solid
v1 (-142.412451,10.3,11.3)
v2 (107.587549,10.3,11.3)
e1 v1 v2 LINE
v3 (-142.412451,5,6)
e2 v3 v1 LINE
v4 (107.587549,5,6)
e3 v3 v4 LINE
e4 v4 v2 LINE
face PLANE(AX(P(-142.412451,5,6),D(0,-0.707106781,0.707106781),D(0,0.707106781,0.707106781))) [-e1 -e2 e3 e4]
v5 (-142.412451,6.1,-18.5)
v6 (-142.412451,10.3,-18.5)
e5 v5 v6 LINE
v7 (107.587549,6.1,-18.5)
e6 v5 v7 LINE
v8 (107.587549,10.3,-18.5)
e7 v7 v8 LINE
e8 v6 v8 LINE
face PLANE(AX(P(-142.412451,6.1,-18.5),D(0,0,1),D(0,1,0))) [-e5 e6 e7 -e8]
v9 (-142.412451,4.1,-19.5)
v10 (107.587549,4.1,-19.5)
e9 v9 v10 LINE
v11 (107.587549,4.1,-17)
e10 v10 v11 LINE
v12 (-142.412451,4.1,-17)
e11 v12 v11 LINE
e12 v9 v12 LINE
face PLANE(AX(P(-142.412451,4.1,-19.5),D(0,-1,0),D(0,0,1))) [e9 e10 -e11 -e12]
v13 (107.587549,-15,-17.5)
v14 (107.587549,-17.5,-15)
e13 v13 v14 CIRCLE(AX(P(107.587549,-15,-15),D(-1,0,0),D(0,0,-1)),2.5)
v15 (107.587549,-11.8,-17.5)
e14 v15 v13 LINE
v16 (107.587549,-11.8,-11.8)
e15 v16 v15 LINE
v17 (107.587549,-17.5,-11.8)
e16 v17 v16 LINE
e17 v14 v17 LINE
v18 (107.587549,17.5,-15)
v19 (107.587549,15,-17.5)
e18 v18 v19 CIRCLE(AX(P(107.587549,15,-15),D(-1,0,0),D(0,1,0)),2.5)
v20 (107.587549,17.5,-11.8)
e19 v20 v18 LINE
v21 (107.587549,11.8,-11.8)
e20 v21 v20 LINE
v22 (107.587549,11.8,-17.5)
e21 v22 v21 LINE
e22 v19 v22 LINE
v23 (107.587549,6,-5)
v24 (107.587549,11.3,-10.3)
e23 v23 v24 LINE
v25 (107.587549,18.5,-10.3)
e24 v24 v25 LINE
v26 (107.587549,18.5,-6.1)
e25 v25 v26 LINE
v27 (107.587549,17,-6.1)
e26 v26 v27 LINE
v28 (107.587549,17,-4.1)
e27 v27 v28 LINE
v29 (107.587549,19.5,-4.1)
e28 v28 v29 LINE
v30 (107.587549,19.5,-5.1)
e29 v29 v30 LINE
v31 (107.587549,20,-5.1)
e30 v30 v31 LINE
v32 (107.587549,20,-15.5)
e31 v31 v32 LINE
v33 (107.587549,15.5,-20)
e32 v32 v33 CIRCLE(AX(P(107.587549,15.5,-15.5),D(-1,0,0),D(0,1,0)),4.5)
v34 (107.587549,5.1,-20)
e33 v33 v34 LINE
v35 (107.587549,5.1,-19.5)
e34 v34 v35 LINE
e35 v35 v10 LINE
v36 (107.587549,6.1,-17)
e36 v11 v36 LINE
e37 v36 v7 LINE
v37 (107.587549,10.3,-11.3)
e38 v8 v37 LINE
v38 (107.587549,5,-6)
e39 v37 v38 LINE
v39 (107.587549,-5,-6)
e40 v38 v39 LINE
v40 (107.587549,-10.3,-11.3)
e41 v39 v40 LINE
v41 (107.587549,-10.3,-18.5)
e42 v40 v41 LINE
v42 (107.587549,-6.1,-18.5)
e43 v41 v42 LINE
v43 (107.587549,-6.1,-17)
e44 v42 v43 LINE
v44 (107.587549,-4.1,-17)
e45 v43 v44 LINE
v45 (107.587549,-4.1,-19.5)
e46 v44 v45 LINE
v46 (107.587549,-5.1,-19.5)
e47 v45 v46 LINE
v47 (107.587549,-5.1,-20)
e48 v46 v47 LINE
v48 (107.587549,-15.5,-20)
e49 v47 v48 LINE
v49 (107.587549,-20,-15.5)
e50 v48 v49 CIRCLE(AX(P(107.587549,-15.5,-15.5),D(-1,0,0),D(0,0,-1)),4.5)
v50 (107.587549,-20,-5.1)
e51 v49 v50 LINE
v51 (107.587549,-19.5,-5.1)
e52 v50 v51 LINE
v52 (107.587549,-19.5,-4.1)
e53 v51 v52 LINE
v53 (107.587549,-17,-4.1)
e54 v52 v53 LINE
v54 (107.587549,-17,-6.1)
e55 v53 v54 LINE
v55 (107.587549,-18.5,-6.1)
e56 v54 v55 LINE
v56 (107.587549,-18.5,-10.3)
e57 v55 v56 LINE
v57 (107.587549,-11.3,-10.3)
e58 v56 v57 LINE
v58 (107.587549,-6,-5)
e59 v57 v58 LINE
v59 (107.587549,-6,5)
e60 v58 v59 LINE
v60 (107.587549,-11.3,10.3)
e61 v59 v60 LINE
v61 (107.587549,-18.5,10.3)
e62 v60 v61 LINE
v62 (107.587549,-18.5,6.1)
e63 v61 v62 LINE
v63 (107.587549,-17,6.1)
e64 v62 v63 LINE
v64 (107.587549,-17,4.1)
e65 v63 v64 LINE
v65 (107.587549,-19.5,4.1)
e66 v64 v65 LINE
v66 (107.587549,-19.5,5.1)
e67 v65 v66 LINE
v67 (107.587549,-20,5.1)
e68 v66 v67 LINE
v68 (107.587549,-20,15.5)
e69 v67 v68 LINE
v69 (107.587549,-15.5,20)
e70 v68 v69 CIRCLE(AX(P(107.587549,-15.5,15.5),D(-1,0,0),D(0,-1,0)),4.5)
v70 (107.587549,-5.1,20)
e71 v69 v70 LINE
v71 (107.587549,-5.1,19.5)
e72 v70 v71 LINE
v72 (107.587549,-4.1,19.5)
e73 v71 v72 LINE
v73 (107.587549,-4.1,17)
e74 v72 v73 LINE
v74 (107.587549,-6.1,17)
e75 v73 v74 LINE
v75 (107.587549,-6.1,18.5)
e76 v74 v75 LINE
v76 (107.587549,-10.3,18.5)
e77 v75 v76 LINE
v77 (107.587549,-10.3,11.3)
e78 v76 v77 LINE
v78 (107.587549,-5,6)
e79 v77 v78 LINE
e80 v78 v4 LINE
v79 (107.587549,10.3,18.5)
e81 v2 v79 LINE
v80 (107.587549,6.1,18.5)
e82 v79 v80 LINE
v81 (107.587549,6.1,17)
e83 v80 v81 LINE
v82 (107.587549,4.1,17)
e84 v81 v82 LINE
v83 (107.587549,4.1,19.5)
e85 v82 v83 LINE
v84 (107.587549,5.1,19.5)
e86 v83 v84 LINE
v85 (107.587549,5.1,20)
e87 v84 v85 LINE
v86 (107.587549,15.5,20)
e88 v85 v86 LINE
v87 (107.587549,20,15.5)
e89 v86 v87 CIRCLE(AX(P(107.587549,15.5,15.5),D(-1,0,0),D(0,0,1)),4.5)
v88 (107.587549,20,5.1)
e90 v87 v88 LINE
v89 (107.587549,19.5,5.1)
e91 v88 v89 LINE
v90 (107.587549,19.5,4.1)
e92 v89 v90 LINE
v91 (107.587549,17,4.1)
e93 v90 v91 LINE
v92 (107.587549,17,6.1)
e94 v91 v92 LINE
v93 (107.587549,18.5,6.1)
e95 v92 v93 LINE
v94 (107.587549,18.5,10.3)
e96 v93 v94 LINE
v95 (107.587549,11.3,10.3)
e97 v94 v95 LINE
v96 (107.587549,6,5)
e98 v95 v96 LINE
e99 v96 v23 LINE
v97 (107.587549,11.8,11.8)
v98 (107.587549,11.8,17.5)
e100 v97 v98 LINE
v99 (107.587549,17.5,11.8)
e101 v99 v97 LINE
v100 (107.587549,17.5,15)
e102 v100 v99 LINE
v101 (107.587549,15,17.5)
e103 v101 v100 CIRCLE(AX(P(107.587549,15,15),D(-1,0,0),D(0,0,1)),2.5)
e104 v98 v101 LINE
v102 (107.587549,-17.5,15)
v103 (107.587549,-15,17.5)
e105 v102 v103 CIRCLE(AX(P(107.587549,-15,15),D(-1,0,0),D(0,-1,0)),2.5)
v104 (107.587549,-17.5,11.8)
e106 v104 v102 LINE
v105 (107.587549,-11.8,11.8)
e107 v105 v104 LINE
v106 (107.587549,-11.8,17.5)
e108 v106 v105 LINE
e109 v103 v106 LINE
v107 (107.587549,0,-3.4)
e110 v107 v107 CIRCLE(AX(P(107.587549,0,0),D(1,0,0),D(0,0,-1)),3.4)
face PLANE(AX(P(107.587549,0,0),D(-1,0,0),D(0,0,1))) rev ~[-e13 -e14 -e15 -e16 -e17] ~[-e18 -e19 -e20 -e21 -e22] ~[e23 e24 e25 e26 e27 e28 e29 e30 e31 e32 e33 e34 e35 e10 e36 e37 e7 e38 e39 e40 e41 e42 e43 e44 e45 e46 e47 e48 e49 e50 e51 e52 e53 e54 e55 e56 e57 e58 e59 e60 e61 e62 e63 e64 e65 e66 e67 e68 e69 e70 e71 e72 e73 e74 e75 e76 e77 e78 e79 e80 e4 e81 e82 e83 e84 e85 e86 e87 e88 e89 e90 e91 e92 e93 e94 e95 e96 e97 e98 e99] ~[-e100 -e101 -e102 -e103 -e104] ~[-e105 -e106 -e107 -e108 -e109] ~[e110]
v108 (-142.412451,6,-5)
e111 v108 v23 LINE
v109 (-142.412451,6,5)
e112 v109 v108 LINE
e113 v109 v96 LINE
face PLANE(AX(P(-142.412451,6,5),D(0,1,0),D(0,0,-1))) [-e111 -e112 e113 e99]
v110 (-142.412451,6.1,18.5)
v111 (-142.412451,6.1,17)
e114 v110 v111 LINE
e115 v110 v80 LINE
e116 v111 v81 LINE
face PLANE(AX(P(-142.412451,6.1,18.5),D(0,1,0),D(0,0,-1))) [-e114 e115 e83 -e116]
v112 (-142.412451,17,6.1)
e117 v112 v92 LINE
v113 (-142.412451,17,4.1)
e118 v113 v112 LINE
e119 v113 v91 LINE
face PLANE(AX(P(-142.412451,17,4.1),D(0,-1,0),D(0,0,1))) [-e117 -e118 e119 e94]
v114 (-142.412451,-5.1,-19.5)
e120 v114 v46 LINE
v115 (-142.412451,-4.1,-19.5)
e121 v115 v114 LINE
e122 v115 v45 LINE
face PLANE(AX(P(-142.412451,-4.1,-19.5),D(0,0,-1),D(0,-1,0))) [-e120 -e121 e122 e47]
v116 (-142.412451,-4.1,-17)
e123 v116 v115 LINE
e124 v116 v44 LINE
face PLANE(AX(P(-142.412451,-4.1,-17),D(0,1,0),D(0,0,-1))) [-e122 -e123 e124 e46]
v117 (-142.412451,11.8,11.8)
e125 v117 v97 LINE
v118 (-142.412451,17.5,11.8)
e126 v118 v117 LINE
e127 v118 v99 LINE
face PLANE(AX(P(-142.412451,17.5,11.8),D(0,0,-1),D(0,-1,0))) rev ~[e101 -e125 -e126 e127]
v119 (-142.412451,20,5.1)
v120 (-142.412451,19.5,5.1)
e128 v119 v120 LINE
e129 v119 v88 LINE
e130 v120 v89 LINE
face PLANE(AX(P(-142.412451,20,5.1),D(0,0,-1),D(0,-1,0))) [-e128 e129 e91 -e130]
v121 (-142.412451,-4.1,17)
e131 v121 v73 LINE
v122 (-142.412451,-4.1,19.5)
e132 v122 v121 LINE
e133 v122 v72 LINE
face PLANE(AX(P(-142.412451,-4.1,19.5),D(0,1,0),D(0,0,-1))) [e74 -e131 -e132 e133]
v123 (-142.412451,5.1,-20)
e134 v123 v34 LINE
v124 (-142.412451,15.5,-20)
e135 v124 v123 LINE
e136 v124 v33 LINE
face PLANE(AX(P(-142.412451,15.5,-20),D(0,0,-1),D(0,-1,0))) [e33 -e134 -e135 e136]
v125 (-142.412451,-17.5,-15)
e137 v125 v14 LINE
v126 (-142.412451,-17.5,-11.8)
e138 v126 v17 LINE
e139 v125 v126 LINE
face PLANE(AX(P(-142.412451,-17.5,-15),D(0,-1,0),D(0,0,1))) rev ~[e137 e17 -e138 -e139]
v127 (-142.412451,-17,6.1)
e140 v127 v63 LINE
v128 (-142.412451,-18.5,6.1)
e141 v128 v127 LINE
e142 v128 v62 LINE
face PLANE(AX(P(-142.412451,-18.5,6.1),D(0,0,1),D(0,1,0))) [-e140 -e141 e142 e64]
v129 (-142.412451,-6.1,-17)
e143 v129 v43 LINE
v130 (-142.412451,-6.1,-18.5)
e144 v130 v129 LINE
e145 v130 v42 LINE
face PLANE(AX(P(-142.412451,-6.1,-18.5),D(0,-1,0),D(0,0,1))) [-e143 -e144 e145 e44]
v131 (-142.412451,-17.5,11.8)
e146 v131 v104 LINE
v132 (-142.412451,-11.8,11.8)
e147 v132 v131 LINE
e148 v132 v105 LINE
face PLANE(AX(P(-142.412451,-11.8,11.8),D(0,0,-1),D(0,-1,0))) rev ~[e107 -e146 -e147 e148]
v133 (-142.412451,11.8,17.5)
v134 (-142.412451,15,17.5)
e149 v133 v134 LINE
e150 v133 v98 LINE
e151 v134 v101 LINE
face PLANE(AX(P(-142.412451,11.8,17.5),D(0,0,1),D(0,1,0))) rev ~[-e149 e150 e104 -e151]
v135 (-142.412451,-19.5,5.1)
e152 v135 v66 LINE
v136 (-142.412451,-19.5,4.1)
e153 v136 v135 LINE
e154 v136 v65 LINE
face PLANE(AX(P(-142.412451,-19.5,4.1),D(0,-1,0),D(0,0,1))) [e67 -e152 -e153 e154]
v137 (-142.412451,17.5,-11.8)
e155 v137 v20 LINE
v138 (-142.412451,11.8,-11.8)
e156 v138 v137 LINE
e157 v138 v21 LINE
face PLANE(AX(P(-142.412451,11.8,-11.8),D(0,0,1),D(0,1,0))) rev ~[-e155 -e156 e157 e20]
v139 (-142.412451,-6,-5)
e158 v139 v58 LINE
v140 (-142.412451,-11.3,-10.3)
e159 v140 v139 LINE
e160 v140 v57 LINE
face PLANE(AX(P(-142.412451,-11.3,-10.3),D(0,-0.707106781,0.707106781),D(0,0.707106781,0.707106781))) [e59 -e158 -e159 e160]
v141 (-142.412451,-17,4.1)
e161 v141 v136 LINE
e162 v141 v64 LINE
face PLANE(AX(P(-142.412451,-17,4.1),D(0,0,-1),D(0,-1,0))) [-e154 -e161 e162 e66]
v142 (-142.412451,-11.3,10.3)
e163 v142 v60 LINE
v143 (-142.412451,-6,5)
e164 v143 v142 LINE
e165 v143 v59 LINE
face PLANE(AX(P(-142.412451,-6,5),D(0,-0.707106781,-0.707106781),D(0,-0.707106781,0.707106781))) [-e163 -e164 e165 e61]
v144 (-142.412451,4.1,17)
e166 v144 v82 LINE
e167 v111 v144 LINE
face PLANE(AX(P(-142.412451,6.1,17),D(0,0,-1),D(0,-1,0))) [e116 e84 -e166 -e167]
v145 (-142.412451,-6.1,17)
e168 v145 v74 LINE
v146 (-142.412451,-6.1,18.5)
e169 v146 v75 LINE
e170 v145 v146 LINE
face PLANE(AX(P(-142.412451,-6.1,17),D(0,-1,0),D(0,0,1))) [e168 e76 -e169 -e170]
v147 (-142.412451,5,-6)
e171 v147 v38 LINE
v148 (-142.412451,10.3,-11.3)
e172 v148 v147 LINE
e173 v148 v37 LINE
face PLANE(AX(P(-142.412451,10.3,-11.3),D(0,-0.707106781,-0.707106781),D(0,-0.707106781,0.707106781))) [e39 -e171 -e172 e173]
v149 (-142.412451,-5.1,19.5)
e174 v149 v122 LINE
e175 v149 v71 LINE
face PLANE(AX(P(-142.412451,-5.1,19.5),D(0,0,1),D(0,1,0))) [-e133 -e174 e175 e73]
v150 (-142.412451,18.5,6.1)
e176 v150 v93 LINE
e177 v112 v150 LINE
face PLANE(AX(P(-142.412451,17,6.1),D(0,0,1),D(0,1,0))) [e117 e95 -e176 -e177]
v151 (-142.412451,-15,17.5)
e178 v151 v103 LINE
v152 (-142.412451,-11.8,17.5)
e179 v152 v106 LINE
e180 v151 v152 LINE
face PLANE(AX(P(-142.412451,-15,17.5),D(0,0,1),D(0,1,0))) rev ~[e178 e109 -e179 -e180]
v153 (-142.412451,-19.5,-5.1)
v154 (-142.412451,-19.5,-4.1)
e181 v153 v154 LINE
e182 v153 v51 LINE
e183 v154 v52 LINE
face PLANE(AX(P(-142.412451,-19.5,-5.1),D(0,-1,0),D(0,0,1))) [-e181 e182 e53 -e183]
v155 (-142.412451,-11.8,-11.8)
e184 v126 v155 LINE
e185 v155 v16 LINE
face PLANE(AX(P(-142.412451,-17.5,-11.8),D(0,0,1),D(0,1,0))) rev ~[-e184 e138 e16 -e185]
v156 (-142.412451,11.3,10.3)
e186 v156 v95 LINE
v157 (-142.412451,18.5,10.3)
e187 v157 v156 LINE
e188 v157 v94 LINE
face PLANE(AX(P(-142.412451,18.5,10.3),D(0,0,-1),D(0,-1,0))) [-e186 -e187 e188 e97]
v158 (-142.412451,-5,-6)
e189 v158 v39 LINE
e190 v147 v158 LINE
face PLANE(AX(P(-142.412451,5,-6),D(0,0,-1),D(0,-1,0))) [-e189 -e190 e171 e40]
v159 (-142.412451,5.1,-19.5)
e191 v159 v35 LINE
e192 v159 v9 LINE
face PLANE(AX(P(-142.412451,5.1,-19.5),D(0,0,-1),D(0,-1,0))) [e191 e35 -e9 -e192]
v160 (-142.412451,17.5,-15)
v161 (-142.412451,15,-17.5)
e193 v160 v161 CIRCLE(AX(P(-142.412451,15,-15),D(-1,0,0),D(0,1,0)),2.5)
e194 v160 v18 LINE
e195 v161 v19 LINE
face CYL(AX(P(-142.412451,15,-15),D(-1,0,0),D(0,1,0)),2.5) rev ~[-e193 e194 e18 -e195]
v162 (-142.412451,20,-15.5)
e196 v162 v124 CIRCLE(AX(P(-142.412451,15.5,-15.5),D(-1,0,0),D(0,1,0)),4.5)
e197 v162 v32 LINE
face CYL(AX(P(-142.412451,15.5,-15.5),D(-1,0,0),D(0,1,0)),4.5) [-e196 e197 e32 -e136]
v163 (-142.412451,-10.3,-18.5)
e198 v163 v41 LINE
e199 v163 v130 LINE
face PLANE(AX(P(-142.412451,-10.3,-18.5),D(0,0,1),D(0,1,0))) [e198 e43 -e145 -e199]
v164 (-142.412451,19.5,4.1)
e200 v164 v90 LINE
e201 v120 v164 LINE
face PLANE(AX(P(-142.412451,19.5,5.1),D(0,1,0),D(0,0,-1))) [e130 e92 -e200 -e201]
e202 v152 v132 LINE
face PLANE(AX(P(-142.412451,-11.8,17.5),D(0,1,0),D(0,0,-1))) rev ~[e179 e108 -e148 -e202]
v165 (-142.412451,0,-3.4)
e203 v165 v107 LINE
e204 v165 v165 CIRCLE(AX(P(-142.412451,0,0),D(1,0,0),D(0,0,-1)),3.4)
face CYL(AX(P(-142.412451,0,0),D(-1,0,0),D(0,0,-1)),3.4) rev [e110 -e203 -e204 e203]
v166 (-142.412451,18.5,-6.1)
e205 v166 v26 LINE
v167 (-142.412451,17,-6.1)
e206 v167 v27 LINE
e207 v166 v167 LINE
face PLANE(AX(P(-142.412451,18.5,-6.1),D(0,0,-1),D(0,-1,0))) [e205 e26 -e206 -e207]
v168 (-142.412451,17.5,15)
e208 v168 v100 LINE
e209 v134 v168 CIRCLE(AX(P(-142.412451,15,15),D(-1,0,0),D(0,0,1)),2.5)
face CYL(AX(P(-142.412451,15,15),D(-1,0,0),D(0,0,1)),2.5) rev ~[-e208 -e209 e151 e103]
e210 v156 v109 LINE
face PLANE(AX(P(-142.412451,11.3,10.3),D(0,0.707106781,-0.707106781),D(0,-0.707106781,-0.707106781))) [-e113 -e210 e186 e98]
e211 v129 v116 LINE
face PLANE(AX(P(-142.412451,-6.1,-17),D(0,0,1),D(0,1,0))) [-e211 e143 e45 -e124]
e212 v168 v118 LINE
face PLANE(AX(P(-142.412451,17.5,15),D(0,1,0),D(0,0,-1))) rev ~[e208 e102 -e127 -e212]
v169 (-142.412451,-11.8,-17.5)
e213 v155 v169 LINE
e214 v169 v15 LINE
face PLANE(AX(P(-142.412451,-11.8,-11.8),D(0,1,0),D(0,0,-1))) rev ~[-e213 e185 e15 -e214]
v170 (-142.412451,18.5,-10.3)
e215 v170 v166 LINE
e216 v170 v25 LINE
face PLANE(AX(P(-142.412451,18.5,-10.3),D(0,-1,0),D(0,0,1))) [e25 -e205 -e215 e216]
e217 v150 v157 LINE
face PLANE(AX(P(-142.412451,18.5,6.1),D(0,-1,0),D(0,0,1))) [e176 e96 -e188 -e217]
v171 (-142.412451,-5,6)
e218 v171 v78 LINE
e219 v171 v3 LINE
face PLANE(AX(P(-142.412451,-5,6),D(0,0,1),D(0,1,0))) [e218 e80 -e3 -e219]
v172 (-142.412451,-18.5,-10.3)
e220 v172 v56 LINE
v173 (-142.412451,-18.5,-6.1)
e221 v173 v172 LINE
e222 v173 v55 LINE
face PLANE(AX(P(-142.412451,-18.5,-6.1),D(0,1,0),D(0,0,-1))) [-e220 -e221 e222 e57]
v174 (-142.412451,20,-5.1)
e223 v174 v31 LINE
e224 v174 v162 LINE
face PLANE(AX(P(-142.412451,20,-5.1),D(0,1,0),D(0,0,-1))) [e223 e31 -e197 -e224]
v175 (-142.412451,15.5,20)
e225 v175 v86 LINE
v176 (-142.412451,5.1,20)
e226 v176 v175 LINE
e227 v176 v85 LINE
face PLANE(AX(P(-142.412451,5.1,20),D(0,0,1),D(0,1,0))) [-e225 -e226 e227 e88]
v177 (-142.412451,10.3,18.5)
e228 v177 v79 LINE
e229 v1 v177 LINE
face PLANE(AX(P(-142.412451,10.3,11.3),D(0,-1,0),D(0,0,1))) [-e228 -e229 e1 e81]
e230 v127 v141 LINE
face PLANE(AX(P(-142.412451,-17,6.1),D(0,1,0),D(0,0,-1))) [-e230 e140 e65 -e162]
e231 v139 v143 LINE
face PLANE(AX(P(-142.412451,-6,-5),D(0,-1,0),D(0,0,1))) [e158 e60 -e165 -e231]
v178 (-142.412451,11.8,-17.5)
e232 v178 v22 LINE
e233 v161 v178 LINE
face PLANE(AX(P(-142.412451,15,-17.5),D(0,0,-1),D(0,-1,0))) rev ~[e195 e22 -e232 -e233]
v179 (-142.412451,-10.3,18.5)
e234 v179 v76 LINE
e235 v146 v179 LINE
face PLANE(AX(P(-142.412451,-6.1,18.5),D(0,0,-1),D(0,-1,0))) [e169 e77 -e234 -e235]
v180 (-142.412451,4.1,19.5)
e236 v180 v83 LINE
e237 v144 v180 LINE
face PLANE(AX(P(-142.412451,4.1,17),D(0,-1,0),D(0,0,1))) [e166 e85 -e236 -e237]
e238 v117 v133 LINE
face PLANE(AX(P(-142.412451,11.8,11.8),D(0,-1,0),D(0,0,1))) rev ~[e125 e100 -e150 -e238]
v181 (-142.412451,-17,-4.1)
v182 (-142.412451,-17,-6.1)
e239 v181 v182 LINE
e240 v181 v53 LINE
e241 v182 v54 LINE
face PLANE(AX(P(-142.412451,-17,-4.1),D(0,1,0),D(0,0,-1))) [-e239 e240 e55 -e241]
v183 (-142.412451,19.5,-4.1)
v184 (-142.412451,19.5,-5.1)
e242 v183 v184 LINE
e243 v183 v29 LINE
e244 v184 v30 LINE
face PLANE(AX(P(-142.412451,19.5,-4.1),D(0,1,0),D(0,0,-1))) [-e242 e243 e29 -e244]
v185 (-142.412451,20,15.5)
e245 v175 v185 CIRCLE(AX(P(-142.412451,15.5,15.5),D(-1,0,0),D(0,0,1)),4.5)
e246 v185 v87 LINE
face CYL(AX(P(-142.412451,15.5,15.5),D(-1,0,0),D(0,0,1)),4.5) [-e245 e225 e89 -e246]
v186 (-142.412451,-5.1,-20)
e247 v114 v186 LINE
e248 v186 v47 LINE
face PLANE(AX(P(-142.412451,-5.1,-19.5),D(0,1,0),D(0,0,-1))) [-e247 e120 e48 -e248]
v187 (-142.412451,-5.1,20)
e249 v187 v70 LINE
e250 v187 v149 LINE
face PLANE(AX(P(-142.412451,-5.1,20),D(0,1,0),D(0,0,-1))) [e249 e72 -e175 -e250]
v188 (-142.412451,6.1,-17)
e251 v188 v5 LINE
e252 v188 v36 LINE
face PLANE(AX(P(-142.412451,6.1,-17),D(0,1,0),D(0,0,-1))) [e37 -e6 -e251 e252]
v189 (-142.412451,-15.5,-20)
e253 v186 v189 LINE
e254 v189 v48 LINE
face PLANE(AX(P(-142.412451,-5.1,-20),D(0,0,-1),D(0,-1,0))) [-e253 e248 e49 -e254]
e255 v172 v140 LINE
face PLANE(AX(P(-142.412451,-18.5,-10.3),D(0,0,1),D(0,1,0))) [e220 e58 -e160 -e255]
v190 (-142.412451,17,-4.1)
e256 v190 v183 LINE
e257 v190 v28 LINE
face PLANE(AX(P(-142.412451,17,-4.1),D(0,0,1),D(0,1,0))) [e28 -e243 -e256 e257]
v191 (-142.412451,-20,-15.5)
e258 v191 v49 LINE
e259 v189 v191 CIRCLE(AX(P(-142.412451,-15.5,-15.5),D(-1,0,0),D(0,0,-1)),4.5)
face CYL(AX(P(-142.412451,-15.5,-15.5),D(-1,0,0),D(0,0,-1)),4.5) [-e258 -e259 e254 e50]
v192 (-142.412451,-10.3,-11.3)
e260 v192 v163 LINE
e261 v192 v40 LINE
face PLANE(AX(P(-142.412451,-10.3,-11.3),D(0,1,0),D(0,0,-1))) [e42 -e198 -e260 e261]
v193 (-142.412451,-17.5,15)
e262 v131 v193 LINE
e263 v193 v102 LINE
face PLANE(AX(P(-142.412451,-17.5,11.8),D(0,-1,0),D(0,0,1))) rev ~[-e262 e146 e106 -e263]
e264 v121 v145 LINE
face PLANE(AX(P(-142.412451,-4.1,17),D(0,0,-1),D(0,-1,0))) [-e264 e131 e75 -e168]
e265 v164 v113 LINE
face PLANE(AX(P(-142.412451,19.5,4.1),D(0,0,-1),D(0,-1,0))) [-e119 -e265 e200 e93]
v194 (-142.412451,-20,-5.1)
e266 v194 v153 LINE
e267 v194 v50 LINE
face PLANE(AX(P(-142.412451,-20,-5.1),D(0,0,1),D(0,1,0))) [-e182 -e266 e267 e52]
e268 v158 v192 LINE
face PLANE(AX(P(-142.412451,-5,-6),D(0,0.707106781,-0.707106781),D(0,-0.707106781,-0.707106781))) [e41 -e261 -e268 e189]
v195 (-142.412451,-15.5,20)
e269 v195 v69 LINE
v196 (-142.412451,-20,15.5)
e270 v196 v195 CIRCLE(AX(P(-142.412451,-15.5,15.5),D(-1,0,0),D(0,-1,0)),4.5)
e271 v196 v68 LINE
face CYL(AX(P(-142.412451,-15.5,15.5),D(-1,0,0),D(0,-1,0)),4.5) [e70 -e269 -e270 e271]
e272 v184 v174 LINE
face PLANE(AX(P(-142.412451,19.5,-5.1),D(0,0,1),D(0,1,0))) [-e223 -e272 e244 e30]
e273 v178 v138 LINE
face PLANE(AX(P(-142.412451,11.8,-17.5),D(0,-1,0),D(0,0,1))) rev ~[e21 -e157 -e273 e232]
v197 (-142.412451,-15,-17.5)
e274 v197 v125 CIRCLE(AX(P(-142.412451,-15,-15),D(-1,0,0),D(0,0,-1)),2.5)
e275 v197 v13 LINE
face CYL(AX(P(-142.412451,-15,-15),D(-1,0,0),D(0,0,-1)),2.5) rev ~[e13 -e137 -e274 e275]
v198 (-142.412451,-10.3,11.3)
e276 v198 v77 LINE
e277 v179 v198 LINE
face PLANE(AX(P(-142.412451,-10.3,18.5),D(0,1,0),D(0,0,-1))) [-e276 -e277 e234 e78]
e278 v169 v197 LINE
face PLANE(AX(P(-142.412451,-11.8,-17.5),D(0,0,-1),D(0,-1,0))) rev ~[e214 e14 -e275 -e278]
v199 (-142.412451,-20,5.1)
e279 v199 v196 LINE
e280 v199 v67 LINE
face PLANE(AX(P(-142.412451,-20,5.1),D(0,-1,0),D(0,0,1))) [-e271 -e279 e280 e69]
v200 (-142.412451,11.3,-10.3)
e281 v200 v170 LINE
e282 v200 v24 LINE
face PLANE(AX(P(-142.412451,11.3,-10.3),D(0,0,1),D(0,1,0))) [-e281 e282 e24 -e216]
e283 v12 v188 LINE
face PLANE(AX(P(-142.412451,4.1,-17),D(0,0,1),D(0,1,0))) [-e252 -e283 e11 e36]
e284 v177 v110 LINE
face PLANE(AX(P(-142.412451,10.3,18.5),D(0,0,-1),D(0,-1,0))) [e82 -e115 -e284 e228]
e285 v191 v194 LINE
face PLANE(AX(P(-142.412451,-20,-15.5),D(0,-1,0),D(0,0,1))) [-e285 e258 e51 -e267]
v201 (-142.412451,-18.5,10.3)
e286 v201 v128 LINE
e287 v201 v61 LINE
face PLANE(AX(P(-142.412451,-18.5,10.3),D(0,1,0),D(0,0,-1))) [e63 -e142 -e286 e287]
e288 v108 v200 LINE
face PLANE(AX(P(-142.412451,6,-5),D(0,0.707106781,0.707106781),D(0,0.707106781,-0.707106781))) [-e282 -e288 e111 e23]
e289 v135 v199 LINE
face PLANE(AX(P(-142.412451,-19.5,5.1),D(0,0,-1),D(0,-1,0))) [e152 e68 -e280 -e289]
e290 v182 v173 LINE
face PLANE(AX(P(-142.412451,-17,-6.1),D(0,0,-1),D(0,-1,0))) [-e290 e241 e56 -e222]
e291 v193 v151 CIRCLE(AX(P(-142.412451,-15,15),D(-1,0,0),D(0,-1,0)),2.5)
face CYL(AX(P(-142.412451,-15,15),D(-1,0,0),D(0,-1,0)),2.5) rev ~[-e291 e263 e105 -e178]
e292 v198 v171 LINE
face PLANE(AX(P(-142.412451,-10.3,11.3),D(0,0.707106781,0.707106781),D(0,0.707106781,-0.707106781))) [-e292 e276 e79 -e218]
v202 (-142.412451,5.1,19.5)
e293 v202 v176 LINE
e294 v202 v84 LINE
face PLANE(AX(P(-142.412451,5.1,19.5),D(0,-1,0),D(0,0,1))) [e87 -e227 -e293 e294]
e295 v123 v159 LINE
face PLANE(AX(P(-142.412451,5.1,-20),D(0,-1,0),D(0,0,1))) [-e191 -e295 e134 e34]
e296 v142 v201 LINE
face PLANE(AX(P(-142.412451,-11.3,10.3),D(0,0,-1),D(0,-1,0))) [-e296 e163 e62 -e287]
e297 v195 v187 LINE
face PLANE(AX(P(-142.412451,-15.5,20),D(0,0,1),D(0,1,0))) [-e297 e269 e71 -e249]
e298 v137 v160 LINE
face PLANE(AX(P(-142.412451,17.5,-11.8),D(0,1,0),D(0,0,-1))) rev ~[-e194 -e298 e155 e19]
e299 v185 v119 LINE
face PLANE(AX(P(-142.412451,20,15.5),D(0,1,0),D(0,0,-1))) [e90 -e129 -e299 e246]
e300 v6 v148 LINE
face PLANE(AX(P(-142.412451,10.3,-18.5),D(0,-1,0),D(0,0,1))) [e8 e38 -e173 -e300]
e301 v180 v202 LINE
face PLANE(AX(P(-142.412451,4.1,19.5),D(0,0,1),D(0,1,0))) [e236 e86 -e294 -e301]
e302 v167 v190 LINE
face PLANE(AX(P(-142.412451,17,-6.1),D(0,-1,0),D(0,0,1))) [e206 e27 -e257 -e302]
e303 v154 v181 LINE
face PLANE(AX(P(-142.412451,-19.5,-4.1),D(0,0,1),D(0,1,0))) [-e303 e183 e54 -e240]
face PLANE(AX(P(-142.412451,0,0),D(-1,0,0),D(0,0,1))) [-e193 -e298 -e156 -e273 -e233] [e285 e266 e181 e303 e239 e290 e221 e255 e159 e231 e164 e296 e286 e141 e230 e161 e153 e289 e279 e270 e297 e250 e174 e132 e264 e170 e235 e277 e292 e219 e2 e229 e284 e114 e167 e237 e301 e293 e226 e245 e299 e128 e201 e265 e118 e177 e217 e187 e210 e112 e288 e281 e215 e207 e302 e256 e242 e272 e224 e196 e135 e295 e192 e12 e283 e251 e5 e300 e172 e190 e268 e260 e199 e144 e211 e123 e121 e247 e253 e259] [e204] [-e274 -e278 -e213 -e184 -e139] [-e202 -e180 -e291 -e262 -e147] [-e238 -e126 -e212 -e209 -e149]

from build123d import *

# Parameters (mm, degrees)
SKETCH1_R                 = 3.4
F_40_X_40L_X_R4_5_1_DEPTH = 250


with BuildPart() as part:
    # Sketch1 → 铝型材 40 X 40L X R4.5(1) (new body)
    with BuildSketch(Plane(origin=(-142.412451362, 0, 0), x_dir=(0, 0, -1), z_dir=(1, 0, 0))):
        with BuildLine():
            Line((-5.1, 20), (-5.1, 19.5))
            Line((-5.1, 19.5), (-4.1, 19.5))
            Line((-4.1, 19.5), (-4.1, 17))
            Line((-4.1, 17), (-6.1, 17))
            Line((-6.1, 17), (-6.1, 18.5))
            Line((-6.1, 18.5), (-10.3, 18.5))
            Line((-10.3, 18.5), (-10.3, 11.3))
            Line((-10.3, 11.3), (-5, 6))
            Line((-5, 6), (5, 6))
            Line((5, 6), (10.3, 11.3))
            Line((10.3, 11.3), (10.3, 18.5))
            Line((10.3, 18.5), (6.1, 18.5))
            Line((6.1, 18.5), (6.1, 17))
            Line((6.1, 17), (4.1, 17))
            Line((4.1, 17), (4.1, 19.5))
            Line((4.1, 19.5), (5.1, 19.5))
            Line((5.1, 19.5), (5.1, 20))
            Line((5.1, 20), (15.5, 20))
            ThreePointArc((15.5, 20), (18.681980515, 18.681980515), (20, 15.5))
            Line((20, 15.5), (20, 5.1))
            Line((20, 5.1), (19.5, 5.1))
            Line((19.5, 5.1), (19.5, 4.1))
            Line((19.5, 4.1), (17, 4.1))
            Line((17, 4.1), (17, 6.1))
            Line((17, 6.1), (18.5, 6.1))
            Line((18.5, 6.1), (18.5, 10.3))
            Line((18.5, 10.3), (11.3, 10.3))
            Line((11.3, 10.3), (6, 5))
            Line((6, 5), (6, -5))
            Line((6, -5), (11.3, -10.3))
            Line((11.3, -10.3), (18.5, -10.3))
            Line((18.5, -10.3), (18.5, -6.1))
            Line((18.5, -6.1), (17, -6.1))
            Line((17, -6.1), (17, -4.1))
            Line((17, -4.1), (19.5, -4.1))
            Line((19.5, -4.1), (19.5, -5.1))
            Line((19.5, -5.1), (20, -5.1))
            Line((20, -5.1), (20, -15.5))
            ThreePointArc((20, -15.5), (18.681980515, -18.681980515), (15.5, -20))
            Line((15.5, -20), (5.1, -20))
            Line((5.1, -20), (5.1, -19.5))
            Line((5.1, -19.5), (4.1, -19.5))
            Line((4.1, -19.5), (4.1, -17))
            Line((4.1, -17), (6.1, -17))
            Line((6.1, -17), (6.1, -18.5))
            Line((6.1, -18.5), (10.3, -18.5))
            Line((10.3, -18.5), (10.3, -11.3))
            Line((10.3, -11.3), (5, -6))
            Line((5, -6), (-5, -6))
            Line((-5, -6), (-10.3, -11.3))
            Line((-10.3, -11.3), (-10.3, -18.5))
            Line((-10.3, -18.5), (-6.1, -18.5))
            Line((-6.1, -18.5), (-6.1, -17))
            Line((-6.1, -17), (-4.1, -17))
            Line((-4.1, -17), (-4.1, -19.5))
            Line((-4.1, -19.5), (-5.1, -19.5))
            Line((-5.1, -19.5), (-5.1, -20))
            Line((-5.1, -20), (-15.5, -20))
            ThreePointArc((-15.5, -20), (-18.681980515, -18.681980515), (-20, -15.5))
            Line((-20, -15.5), (-20, -5.1))
            Line((-20, -5.1), (-19.5, -5.1))
            Line((-19.5, -5.1), (-19.5, -4.1))
            Line((-19.5, -4.1), (-17, -4.1))
            Line((-17, -4.1), (-17, -6.1))
            Line((-17, -6.1), (-18.5, -6.1))
            Line((-18.5, -6.1), (-18.5, -10.3))
            Line((-18.5, -10.3), (-11.3, -10.3))
            Line((-11.3, -10.3), (-6, -5))
            Line((-6, -5), (-6, 5))
            Line((-6, 5), (-11.3, 10.3))
            Line((-11.3, 10.3), (-18.5, 10.3))
            Line((-18.5, 10.3), (-18.5, 6.1))
            Line((-18.5, 6.1), (-17, 6.1))
            Line((-17, 6.1), (-17, 4.1))
            Line((-17, 4.1), (-19.5, 4.1))
            Line((-19.5, 4.1), (-19.5, 5.1))
            Line((-19.5, 5.1), (-20, 5.1))
            Line((-20, 5.1), (-20, 15.5))
            ThreePointArc((-20, 15.5), (-18.681980515, 18.681980515), (-15.5, 20))
            Line((-15.5, 20), (-5.1, 20))
        make_face()
        Circle(SKETCH1_R, mode=Mode.SUBTRACT)
        with BuildLine():
            Line((11.8, 17.5), (15, 17.5))
            ThreePointArc((15, 17.5), (16.767766953, 16.767766953), (17.5, 15))
            Line((17.5, 15), (17.5, 11.8))
            Line((17.5, 11.8), (11.8, 11.8))
            Line((11.8, 11.8), (11.8, 17.5))
        make_face(mode=Mode.SUBTRACT)
        with BuildLine():
            Line((-15, 17.5), (-11.8, 17.5))
            Line((-11.8, 17.5), (-11.8, 11.8))
            Line((-11.8, 11.8), (-17.5, 11.8))
            Line((-17.5, 11.8), (-17.5, 15))
            ThreePointArc((-17.5, 15), (-16.767766953, 16.767766953), (-15, 17.5))
        make_face(mode=Mode.SUBTRACT)
        with BuildLine():
            Line((-17.5, -11.8), (-11.8, -11.8))
            Line((-11.8, -11.8), (-11.8, -17.5))
            Line((-11.8, -17.5), (-15, -17.5))
            ThreePointArc((-15, -17.5), (-16.767766953, -16.767766953), (-17.5, -15))
            Line((-17.5, -15), (-17.5, -11.8))
        make_face(mode=Mode.SUBTRACT)
        with BuildLine():
            Line((11.8, -11.8), (17.5, -11.8))
            Line((17.5, -11.8), (17.5, -15))
            ThreePointArc((17.5, -15), (16.767766953, -16.767766953), (15, -17.5))
            Line((15, -17.5), (11.8, -17.5))
            Line((11.8, -17.5), (11.8, -11.8))
        make_face(mode=Mode.SUBTRACT)
    extrude(amount=F_40_X_40L_X_R4_5_1_DEPTH)


solid = part.part
